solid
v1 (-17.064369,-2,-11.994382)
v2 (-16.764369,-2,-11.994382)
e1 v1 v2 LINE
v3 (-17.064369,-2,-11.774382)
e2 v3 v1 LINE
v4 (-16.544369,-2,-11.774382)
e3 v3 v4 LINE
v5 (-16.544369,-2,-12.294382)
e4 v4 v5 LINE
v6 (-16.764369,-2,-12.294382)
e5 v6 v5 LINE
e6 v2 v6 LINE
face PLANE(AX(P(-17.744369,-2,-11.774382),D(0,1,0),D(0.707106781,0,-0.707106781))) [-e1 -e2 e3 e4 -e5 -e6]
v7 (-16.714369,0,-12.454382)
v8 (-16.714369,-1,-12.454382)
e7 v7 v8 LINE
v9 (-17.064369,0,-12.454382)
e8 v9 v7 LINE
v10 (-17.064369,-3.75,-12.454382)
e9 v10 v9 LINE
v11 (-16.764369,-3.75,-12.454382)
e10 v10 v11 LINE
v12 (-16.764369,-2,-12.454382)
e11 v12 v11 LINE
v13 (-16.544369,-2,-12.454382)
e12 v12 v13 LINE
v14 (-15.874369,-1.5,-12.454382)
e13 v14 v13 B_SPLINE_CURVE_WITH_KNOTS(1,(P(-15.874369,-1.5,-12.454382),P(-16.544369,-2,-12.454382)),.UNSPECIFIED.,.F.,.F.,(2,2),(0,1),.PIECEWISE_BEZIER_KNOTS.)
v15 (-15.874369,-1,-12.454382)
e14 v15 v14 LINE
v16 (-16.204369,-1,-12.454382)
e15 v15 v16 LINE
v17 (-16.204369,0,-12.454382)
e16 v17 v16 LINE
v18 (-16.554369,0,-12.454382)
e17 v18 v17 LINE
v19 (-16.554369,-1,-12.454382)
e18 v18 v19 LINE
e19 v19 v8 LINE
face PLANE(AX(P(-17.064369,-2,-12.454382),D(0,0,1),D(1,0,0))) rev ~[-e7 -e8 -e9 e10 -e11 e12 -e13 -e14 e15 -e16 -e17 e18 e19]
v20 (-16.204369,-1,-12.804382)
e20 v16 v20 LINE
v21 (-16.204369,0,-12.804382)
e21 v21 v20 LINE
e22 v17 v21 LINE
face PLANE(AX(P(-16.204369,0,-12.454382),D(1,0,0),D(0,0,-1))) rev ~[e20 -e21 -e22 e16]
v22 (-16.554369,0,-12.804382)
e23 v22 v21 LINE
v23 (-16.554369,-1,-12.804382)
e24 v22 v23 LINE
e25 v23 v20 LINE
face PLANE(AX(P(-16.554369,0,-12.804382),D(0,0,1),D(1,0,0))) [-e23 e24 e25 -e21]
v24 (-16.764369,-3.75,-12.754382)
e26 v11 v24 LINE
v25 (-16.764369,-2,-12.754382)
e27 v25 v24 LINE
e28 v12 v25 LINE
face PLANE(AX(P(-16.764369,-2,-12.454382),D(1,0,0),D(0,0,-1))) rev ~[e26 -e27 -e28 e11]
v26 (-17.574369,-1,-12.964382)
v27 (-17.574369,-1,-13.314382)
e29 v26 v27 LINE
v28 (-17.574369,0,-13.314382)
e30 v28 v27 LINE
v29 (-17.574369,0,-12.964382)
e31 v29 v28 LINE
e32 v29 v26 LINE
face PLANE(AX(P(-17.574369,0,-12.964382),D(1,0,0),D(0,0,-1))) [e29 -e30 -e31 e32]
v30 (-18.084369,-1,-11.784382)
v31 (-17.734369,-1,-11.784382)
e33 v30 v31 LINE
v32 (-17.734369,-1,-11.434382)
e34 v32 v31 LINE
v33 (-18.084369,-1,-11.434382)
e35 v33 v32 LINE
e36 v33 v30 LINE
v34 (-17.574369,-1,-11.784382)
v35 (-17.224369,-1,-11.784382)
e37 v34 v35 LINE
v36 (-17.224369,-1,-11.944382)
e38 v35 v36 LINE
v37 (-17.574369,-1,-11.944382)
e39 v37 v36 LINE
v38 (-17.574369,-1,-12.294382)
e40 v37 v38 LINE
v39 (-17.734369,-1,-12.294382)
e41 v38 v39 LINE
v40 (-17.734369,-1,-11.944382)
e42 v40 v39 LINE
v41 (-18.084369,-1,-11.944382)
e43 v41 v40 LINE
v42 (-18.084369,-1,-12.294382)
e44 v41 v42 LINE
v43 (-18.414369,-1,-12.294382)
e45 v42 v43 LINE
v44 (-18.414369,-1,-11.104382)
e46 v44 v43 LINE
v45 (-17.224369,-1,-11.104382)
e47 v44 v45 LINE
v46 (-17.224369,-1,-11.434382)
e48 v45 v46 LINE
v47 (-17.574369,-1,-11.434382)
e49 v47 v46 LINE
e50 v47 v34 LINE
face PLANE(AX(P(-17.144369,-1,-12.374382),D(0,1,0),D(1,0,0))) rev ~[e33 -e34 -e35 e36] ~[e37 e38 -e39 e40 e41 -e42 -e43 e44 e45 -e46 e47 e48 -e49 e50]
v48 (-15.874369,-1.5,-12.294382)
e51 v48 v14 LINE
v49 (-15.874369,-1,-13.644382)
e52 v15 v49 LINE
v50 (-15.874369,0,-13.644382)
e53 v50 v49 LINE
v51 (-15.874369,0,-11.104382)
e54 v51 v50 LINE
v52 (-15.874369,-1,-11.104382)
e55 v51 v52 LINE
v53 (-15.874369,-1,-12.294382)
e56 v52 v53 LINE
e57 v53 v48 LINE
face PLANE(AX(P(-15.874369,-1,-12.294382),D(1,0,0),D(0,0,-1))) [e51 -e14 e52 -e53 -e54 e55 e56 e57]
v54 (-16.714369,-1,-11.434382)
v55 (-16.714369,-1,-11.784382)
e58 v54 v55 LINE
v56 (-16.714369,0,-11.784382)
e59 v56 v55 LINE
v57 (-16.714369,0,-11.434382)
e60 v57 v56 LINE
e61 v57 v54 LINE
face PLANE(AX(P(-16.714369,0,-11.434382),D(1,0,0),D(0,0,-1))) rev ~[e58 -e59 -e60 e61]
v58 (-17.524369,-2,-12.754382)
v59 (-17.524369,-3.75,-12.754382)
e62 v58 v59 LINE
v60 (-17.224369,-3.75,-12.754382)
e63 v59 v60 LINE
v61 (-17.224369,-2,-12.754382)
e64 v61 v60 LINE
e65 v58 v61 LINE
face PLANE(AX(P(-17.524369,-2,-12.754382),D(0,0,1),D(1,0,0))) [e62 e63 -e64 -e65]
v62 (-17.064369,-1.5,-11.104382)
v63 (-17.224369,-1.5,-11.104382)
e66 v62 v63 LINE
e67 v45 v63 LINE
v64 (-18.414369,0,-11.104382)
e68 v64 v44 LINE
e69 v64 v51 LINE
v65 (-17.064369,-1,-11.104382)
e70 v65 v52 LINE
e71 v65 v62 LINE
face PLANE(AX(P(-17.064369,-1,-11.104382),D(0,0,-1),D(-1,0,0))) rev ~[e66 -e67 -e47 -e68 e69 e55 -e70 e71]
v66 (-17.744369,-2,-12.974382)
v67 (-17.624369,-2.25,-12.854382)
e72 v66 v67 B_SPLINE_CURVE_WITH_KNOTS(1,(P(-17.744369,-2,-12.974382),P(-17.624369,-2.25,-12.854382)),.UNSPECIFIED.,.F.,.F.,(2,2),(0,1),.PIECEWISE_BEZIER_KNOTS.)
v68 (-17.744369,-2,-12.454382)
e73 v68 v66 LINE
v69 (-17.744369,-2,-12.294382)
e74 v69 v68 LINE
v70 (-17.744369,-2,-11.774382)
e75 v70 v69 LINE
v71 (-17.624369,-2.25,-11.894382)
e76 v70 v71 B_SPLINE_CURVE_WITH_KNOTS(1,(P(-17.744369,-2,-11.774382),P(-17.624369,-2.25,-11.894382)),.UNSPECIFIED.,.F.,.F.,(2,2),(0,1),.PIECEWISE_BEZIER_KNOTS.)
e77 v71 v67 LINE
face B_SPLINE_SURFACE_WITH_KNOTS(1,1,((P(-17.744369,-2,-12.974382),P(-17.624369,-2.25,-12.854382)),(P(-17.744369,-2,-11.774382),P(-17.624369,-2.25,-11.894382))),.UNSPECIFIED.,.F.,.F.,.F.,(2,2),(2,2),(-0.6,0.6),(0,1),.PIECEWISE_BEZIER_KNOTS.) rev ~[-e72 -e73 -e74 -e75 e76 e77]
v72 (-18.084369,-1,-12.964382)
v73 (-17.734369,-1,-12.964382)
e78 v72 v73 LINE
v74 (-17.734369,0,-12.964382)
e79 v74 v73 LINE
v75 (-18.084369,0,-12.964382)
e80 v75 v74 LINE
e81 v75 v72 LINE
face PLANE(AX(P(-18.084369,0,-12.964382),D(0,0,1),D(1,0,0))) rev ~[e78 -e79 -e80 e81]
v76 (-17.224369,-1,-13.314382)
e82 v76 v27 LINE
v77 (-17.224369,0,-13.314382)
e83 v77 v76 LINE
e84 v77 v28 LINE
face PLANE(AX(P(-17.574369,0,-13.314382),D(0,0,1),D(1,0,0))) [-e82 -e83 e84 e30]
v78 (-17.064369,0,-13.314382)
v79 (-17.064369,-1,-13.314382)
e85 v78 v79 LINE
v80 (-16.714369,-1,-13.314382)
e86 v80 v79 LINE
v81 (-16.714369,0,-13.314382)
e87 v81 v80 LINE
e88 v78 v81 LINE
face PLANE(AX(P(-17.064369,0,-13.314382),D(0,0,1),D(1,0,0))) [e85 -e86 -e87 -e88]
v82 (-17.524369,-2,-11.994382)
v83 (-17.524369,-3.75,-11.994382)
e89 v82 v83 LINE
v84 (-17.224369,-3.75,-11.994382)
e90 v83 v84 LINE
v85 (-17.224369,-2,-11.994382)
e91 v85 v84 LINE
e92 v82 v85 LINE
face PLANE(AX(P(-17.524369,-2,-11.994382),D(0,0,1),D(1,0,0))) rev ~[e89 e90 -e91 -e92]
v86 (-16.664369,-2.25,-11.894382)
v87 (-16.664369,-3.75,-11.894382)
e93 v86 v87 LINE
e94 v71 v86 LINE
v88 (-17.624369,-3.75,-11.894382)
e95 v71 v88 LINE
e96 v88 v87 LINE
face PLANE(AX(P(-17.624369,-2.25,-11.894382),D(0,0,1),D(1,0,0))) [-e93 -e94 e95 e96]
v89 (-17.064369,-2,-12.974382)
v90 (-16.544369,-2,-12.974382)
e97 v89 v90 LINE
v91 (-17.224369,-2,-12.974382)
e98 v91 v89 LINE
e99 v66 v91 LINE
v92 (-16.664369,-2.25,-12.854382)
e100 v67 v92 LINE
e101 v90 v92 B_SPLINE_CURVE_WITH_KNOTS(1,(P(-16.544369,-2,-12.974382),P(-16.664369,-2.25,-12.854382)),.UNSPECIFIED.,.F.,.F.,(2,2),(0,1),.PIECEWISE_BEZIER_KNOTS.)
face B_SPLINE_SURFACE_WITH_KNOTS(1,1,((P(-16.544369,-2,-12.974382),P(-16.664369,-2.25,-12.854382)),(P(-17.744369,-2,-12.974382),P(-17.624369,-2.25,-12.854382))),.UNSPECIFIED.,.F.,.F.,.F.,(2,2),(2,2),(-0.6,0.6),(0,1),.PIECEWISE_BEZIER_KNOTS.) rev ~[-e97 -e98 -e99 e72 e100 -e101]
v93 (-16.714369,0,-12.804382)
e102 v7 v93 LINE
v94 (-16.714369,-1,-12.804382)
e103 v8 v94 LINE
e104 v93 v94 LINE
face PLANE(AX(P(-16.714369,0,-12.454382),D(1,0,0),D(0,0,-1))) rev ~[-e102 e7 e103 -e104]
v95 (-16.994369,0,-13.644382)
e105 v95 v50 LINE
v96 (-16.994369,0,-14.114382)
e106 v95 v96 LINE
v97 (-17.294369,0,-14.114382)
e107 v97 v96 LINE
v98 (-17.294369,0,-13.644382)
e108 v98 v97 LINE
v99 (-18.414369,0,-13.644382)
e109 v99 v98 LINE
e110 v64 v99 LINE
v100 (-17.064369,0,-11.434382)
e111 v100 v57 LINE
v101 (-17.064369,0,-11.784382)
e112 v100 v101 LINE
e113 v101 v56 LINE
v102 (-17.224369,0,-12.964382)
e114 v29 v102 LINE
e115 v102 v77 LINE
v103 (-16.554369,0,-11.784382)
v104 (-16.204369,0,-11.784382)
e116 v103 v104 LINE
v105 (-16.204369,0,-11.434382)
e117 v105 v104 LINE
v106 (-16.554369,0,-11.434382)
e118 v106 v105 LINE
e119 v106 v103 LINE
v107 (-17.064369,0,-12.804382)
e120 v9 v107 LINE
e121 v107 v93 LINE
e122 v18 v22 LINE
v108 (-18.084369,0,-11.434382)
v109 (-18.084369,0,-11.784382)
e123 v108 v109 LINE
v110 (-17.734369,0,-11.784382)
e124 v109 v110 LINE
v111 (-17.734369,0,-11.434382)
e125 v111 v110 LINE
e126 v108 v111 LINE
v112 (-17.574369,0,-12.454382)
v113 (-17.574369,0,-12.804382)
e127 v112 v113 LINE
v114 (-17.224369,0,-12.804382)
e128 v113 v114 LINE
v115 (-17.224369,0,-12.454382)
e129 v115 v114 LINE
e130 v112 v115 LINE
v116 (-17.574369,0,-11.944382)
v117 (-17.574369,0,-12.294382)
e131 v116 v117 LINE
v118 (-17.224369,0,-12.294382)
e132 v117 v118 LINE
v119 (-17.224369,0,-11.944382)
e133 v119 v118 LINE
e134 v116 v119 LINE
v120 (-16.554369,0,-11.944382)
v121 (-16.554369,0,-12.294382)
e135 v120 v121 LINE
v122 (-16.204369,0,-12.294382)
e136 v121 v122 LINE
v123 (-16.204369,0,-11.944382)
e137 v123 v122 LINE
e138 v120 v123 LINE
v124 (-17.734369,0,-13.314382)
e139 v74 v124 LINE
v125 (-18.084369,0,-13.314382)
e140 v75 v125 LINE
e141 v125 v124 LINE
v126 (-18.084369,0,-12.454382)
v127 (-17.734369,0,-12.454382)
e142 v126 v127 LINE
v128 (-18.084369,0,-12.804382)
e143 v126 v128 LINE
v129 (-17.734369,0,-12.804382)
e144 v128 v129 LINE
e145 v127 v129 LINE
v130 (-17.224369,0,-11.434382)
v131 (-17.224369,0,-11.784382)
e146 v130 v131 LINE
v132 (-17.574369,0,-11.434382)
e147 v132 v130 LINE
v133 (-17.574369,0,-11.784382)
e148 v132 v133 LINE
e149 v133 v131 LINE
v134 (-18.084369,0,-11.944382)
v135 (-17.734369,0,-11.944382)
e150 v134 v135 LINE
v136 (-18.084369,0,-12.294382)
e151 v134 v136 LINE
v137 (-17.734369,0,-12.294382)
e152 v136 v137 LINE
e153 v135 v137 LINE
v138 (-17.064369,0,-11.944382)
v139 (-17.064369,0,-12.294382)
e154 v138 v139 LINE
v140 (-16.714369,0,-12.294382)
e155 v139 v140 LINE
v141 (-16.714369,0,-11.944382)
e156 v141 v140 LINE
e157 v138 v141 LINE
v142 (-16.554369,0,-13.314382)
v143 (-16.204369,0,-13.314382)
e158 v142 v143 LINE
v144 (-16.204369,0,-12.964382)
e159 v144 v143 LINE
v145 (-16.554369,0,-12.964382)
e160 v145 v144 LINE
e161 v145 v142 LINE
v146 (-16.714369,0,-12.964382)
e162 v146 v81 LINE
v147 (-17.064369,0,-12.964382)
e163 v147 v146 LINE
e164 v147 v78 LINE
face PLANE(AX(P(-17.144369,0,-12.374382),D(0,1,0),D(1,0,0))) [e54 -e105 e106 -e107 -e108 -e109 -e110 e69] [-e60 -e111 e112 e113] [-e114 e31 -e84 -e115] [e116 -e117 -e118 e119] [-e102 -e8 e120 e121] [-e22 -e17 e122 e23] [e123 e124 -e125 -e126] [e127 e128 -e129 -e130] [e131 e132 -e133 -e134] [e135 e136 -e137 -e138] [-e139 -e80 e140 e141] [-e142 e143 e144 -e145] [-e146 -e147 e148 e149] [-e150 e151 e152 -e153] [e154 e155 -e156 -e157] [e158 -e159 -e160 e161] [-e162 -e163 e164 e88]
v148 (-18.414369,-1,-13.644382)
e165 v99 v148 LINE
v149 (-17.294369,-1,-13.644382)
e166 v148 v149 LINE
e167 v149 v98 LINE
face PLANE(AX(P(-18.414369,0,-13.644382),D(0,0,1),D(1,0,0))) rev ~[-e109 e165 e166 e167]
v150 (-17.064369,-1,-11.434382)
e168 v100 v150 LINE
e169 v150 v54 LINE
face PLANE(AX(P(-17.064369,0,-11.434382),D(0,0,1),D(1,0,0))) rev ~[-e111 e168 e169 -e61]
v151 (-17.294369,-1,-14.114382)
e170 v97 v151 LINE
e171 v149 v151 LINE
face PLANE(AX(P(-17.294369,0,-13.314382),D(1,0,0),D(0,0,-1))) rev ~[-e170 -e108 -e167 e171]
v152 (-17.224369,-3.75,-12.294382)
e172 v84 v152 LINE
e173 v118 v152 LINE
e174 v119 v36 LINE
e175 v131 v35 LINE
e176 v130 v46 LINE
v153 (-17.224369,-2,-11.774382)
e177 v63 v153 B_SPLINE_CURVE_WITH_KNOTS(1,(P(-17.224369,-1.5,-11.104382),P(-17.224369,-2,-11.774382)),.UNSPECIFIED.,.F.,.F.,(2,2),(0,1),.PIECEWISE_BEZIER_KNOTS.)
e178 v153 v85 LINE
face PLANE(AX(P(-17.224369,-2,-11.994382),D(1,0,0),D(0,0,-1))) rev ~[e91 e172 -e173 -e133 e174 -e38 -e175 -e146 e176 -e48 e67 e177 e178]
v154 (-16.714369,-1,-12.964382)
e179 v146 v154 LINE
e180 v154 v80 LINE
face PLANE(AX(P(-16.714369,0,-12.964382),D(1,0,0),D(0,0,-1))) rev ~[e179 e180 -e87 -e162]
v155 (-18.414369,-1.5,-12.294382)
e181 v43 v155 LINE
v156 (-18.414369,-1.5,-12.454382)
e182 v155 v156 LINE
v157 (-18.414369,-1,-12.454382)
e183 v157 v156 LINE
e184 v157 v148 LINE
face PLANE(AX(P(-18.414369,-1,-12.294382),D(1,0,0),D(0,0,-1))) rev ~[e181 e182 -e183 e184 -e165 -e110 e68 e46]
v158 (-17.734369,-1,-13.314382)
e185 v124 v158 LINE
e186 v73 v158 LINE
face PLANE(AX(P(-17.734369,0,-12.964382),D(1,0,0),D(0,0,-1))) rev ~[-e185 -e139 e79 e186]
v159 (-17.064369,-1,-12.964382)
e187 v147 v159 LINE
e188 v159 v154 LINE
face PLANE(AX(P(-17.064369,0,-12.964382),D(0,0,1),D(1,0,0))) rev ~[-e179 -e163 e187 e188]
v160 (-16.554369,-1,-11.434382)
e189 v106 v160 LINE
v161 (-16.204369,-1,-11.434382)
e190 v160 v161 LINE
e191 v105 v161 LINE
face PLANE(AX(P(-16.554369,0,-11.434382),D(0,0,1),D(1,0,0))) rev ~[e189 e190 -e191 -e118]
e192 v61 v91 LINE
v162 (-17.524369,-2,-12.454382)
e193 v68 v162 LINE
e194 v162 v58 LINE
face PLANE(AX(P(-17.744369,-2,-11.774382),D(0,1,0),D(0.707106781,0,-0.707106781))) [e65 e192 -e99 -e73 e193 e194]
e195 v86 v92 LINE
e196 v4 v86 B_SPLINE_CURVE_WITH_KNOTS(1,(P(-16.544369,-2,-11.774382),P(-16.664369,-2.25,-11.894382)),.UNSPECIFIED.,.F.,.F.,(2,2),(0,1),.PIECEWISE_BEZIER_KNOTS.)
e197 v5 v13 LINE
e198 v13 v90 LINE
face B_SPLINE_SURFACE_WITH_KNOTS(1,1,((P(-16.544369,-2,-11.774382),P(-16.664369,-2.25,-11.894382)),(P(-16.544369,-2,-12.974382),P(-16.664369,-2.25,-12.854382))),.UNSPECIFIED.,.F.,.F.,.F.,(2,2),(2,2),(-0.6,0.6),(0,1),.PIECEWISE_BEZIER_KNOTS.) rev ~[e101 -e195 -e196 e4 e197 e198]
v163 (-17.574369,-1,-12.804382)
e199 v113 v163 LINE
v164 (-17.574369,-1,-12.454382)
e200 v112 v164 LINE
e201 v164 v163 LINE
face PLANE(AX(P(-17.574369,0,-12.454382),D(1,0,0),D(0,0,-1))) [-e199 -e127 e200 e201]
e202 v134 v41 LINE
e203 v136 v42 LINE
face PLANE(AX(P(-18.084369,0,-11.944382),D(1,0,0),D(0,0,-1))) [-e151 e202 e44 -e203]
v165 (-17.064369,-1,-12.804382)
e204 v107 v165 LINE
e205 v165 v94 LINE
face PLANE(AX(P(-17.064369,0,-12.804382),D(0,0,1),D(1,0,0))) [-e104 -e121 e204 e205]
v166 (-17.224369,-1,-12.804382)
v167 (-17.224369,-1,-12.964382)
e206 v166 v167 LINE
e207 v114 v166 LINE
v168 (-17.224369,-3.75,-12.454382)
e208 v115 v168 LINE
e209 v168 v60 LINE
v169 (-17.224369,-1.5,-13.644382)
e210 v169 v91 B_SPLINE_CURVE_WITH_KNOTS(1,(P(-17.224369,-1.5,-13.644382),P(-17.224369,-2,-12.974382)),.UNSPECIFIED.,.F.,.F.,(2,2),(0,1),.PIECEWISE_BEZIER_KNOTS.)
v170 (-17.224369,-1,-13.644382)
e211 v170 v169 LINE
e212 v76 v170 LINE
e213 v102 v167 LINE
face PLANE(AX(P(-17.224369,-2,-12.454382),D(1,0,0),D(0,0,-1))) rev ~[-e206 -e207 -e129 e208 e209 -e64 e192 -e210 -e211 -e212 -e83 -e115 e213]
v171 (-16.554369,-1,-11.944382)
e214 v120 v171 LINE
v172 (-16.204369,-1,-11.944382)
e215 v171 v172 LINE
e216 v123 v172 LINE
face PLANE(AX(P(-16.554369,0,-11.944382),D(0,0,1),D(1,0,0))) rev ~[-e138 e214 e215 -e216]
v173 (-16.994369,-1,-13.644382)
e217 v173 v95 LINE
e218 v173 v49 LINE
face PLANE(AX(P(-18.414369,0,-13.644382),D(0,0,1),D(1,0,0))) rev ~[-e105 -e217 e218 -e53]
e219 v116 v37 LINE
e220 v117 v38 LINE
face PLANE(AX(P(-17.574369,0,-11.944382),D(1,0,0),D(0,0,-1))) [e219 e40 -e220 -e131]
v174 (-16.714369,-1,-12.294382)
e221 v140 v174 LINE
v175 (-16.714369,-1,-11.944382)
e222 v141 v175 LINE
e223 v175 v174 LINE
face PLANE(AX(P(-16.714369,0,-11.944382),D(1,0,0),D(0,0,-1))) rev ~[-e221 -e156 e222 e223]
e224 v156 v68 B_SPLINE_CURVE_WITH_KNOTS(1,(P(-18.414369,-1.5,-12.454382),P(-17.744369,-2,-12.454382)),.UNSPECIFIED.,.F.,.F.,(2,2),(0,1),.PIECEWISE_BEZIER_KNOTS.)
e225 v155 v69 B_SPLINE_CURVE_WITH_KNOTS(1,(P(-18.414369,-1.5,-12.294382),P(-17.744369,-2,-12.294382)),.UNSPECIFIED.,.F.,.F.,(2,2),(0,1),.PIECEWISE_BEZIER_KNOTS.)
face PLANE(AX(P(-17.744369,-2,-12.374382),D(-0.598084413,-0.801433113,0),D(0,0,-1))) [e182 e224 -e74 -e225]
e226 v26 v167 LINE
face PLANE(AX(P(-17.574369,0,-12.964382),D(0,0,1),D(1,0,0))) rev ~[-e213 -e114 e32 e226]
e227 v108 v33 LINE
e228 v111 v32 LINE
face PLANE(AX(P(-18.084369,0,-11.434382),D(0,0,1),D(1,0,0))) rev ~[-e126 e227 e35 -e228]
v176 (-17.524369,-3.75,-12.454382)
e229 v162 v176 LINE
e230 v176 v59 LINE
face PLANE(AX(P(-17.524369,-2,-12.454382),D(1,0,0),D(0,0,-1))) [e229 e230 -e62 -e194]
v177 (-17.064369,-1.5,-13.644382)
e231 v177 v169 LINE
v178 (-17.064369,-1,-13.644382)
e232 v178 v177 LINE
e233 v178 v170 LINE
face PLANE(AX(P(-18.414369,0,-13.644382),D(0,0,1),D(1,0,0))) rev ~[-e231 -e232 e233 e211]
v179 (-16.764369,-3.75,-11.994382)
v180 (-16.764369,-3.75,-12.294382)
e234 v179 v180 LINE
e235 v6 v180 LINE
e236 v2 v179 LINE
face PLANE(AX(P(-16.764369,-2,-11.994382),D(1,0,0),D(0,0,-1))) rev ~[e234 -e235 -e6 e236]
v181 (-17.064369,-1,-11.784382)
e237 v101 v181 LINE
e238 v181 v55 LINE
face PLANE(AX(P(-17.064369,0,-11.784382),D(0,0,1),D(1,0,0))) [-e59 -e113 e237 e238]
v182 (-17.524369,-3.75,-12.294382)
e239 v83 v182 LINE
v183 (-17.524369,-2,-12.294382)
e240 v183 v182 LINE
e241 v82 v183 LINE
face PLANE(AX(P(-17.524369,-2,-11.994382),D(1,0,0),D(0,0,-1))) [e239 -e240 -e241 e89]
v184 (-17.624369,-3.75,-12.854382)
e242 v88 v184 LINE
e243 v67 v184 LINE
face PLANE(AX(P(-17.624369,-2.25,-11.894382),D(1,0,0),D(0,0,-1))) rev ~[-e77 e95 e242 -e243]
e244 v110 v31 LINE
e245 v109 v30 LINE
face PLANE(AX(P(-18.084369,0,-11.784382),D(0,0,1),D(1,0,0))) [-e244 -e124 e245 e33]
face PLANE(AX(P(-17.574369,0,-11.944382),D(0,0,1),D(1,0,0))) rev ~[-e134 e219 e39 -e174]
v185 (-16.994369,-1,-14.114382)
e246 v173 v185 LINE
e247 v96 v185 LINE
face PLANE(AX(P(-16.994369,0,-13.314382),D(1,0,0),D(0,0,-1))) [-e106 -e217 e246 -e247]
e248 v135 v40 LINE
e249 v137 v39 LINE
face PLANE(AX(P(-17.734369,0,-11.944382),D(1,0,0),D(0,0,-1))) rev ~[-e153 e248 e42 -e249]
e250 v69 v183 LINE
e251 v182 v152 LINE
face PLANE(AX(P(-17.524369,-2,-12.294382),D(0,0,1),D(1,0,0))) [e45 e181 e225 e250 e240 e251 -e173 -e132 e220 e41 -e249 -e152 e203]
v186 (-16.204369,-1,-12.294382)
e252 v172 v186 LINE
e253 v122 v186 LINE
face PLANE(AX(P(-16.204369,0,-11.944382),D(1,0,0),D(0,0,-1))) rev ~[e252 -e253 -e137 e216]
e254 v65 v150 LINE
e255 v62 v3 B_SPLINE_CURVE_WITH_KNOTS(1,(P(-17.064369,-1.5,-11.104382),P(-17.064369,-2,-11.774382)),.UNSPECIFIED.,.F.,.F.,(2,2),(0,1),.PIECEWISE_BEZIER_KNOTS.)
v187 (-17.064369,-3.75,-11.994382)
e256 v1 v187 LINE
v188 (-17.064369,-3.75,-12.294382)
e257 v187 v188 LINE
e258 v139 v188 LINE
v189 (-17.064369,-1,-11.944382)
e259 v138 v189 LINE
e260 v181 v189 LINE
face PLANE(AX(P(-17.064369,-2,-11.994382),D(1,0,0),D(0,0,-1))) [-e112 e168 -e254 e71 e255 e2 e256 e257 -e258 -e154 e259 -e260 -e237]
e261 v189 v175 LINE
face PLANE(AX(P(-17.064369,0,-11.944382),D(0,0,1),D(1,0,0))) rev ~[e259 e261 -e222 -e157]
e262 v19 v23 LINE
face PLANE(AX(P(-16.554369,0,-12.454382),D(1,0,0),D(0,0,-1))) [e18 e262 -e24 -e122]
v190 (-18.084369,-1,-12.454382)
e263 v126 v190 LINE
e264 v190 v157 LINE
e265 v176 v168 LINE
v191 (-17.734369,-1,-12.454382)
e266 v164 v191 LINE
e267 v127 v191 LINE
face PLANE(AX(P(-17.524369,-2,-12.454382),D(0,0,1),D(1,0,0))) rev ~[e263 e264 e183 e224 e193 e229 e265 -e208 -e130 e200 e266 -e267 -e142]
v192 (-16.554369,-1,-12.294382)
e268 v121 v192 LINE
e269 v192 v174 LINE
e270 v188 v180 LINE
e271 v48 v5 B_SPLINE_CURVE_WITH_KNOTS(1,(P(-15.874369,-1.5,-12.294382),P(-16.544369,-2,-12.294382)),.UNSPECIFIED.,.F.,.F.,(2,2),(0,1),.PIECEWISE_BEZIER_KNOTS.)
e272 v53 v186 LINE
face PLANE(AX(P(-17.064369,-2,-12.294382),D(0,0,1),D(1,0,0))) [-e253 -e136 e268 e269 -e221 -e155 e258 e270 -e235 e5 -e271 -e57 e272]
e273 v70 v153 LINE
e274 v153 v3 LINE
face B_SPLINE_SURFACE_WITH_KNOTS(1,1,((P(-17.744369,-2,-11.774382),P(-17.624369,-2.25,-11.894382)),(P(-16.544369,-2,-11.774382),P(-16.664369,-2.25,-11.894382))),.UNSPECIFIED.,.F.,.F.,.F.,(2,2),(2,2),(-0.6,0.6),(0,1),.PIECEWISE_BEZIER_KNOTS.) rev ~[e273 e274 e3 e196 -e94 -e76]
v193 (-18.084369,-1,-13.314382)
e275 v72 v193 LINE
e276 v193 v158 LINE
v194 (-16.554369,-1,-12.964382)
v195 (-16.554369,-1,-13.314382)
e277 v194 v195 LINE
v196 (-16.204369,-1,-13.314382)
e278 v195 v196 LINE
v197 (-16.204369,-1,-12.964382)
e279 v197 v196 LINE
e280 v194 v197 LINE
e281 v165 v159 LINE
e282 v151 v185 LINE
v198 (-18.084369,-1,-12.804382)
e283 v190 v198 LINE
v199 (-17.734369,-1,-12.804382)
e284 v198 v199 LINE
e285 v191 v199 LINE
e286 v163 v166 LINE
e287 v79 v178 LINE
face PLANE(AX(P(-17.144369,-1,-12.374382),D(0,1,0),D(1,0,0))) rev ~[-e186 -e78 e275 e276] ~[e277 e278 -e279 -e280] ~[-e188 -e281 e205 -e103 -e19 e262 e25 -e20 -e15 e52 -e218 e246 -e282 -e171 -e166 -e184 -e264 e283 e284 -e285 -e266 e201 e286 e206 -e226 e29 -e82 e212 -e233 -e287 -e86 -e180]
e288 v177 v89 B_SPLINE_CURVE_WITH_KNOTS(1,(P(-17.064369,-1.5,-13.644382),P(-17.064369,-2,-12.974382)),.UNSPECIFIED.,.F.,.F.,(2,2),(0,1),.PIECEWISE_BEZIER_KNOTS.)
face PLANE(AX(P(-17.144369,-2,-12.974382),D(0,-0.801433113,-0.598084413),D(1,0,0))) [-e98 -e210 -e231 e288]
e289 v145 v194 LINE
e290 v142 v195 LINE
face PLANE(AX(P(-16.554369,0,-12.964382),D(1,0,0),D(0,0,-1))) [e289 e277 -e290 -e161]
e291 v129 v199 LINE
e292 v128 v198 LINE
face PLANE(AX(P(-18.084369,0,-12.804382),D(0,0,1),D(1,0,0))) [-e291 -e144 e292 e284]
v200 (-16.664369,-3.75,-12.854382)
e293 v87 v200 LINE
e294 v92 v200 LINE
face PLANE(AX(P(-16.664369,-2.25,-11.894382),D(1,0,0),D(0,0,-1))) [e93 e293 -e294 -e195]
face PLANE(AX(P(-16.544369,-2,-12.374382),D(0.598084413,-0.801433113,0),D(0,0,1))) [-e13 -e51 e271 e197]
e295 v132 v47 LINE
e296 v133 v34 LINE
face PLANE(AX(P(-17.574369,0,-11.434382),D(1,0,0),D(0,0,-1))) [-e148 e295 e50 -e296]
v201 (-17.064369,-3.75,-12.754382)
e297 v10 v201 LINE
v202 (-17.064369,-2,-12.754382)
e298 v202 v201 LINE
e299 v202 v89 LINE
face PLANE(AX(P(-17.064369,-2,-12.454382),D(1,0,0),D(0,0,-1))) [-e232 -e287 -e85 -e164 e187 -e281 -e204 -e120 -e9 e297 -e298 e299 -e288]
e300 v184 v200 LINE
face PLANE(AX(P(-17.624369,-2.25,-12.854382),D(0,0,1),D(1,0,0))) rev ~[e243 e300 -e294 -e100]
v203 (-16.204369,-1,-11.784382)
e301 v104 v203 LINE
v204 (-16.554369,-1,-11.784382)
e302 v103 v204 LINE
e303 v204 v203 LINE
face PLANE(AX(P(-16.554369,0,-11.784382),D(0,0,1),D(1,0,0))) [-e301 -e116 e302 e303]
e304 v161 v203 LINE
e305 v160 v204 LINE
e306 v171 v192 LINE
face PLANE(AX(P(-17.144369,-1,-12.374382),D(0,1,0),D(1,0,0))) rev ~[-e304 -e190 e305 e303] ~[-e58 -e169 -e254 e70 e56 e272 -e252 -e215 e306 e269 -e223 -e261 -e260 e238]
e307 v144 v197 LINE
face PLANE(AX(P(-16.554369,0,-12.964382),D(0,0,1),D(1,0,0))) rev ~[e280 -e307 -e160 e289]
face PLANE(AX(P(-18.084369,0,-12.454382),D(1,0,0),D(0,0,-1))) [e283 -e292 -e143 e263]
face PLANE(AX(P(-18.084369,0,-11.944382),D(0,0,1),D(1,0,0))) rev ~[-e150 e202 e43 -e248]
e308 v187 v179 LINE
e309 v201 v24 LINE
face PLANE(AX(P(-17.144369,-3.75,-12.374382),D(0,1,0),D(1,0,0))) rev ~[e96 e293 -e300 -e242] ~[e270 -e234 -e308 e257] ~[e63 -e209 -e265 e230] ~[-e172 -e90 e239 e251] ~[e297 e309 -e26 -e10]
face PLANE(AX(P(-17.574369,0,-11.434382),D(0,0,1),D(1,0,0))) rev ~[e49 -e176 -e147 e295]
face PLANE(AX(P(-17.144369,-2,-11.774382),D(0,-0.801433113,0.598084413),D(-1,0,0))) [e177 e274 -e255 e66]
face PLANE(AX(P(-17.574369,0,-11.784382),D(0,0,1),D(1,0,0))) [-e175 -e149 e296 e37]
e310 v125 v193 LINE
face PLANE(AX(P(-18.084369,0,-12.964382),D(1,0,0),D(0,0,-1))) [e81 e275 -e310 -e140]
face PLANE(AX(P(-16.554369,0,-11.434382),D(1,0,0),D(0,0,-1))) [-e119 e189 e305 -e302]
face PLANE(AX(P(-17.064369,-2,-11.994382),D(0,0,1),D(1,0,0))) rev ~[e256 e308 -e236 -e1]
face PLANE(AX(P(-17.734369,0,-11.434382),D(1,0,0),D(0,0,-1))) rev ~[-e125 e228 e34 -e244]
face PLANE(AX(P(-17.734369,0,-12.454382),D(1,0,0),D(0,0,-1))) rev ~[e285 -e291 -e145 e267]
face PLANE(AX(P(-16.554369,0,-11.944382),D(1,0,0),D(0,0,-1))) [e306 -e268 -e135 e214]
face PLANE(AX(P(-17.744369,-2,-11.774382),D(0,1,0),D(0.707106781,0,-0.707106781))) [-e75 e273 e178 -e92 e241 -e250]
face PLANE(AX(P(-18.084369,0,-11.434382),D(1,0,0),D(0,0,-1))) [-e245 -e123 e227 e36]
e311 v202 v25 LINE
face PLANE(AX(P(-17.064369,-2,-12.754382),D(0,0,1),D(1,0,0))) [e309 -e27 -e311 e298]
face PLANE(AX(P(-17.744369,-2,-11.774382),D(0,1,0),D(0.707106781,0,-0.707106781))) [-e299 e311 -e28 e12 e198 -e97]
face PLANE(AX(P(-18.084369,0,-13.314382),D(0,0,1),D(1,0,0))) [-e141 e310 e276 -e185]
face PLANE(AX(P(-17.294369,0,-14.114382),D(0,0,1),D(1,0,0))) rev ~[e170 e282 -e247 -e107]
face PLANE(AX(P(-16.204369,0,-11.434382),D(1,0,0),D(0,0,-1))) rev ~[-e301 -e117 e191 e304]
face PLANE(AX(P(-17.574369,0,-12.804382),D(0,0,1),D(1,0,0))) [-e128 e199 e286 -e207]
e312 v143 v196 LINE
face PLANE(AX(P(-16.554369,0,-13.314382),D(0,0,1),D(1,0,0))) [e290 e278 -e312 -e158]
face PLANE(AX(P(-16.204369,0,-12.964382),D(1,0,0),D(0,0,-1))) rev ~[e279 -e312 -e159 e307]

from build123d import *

# Parameters (mm, degrees)
TOP_PANEL_W               = 2.54
TOP_PANEL_H               = 2.54
BOSS_EXTRUDE1_DEPTH       = 1
WELL_HOLES_W              = 0.35
WELL_HOLES_H              = 0.35
WELLS_DEPTH               = 1
SKETCH5_W                 = 2.54
SKETCH5_H                 = 0.16
BOSS_EXTRUDE5_DEPTH       = 0.5
SKETCH4_W                 = 1.2
SKETCH4_H                 = 0.16
SUPPORT_WALL_SKETCH_W     = 0.16
SUPPORT_WALL_SKETCH_H     = 2.54
BOSS_EXTRUDE7_DEPTH       = 0.5
SKETCH7_W                 = 0.16
SKETCH7_H                 = 0.52
SKETCH7_3_W               = 0.16
SKETCH7_3_H               = 0.52
SKETCH8_W                 = 1.2
SKETCH8_H                 = 1.2
SKETCH9_W                 = 0.96
SKETCH9_H                 = 0.96
SKETCH9_2_W               = 0.96
SKETCH9_2_H               = 0.96
TETRODE_GUIDE_DEPTH       = 1.5
TETRODE_ENTRY_HOLDES_W    = 0.3
TETRODE_ENTRY_HOLDES_H    = 0.3
TETRODE_GUIDE_HOLES_DEPTH = 1.75
SKETCH10_W                = 0.3
SKETCH10_H                = 0.8
TAB_DEPTH                 = 1


with BuildPart() as part:
    # top_panel → Boss-Extrude1 (new body)
    with BuildSketch(Plane(origin=(0, 0, 0), x_dir=(1, 0, 0), z_dir=(0, 1, 0))):
        with Locations((-17.144369017, 12.374381862)):
            Rectangle(TOP_PANEL_W, TOP_PANEL_H)
    extrude(amount=-BOSS_EXTRUDE1_DEPTH)

    # well_holes → wells (cut)
    with BuildSketch(Plane(origin=(0, 0, 0), x_dir=(1, 0, 0), z_dir=(0, 1, 0))):
        with Locations((-17.399369017, 13.139381862)):
            Rectangle(WELL_HOLES_W, WELL_HOLES_H)
        with Locations((-17.909369017, 13.139381862)):
            Rectangle(WELL_HOLES_W, WELL_HOLES_H)
        with Locations((-16.889369017, 13.139381862)):
            Rectangle(WELL_HOLES_W, WELL_HOLES_H)
        with Locations((-16.379369017, 13.139381862)):
            Rectangle(WELL_HOLES_W, WELL_HOLES_H)
        with Locations((-17.399369017, 12.629381862)):
            Rectangle(WELL_HOLES_W, WELL_HOLES_H)
        with Locations((-16.889369017, 12.629381862)):
            Rectangle(WELL_HOLES_W, WELL_HOLES_H)
        with Locations((-16.379369017, 12.629381862)):
            Rectangle(WELL_HOLES_W, WELL_HOLES_H)
        with Locations((-17.399369017, 12.119381862)):
            Rectangle(WELL_HOLES_W, WELL_HOLES_H)
        with Locations((-16.889369017, 12.119381862)):
            Rectangle(WELL_HOLES_W, WELL_HOLES_H)
        with Locations((-16.379369017, 12.119381862)):
            Rectangle(WELL_HOLES_W, WELL_HOLES_H)
        with Locations((-17.399369017, 11.609381862)):
            Rectangle(WELL_HOLES_W, WELL_HOLES_H)
        with Locations((-16.889369017, 11.609381862)):
            Rectangle(WELL_HOLES_W, WELL_HOLES_H)
        with Locations((-16.379369017, 11.609381862)):
            Rectangle(WELL_HOLES_W, WELL_HOLES_H)
        with Locations((-17.909369017, 12.629381862)):
            Rectangle(WELL_HOLES_W, WELL_HOLES_H)
        with Locations((-17.909369017, 12.119381862)):
            Rectangle(WELL_HOLES_W, WELL_HOLES_H)
        with Locations((-17.909369017, 11.609381862)):
            Rectangle(WELL_HOLES_W, WELL_HOLES_H)
    extrude(amount=-WELLS_DEPTH, mode=Mode.SUBTRACT)

    # Sketch5 → Boss-Extrude5 (add)
    with BuildSketch(Plane(origin=(0, -1, 0), x_dir=(-1, 0, 0), z_dir=(0, -1, 0))):
        with Locations((17.144369017, 12.374381862)):
            Rectangle(SKETCH5_W, SKETCH5_H)
    extrude(amount=BOSS_EXTRUDE5_DEPTH)

    # Sketch4 → section 1 of loft3
    with BuildSketch(Plane(origin=(0, -2, 0), x_dir=(1, 0, 0), z_dir=(0, 1, 0)), mode=Mode.PRIVATE) as loft3_s1:
        with Locations((-17.144369017, 12.374381862)):
            Rectangle(SKETCH4_W, SKETCH4_H)
    # loft from a face of the part (loft3)
    loft([part.faces().sort_by_distance((-17.144369017, -1.5, -12.374381862))[0], loft3_s1.sketch])

    # support_wall_sketch → Boss-Extrude7 (add)
    with BuildSketch(Plane(origin=(0, -1, 0), x_dir=(-1, 0, 0), z_dir=(0, -1, 0))):
        with Locations((17.144369017, 12.374381862)):
            Rectangle(SUPPORT_WALL_SKETCH_W, SUPPORT_WALL_SKETCH_H)
    extrude(amount=BOSS_EXTRUDE7_DEPTH)

    # Sketch7 → section 1 of loft6
    with BuildSketch(Plane(origin=(0, -2, 0), x_dir=(1, 0, 0), z_dir=(0, 1, 0)), mode=Mode.PRIVATE) as loft6_s1:
        with Locations((-17.144369017, 12.034381862)):
            Rectangle(SKETCH7_W, SKETCH7_H)
    # loft from a face of the part (loft6)
    loft([part.faces().sort_by_distance((-17.144369017, -1.5, -11.699381862))[0], loft6_s1.sketch])

    # Sketch7<3> → section 1 of loft7
    with BuildSketch(Plane(origin=(0, -2, 0), x_dir=(1, 0, 0), z_dir=(0, 1, 0)), mode=Mode.PRIVATE) as loft7_s1:
        with Locations((-17.144369017, 12.714381862)):
            Rectangle(SKETCH7_3_W, SKETCH7_3_H)
    # loft from a face of the part (loft7)
    loft([part.faces().sort_by_distance((-17.144369017, -1.5, -13.049381862))[0], loft7_s1.sketch])

    # Sketch8 → mezzanine section 0
    with BuildSketch(Plane(origin=(0, -2, 0), x_dir=(1, 0, 0), z_dir=(0, 1, 0))):
        with Locations((-17.144369017, 12.374381862)):
            Rectangle(SKETCH8_W, SKETCH8_H)
    # Sketch9 → mezzanine section 1
    with BuildSketch(Plane(origin=(0, -2.25, 0), x_dir=(1, 0, 0), z_dir=(0, 1, 0))):
        with Locations((-17.144369017, 12.374381862)):
            Rectangle(SKETCH9_W, SKETCH9_H)
    loft()

    # Sketch9<2> → tetrode_guide (add)
    with BuildSketch(Plane(origin=(0, -2.25, 0), x_dir=(1, 0, 0), z_dir=(0, 1, 0))):
        with Locations((-17.144369017, 12.374381862)):
            Rectangle(SKETCH9_2_W, SKETCH9_2_H)
    extrude(amount=-TETRODE_GUIDE_DEPTH)

    # tetrode_entry_holdes → tetrode_guide_holes (cut)
    with BuildSketch(Plane(origin=(0, -2, 0), x_dir=(1, 0, 0), z_dir=(0, 1, 0))):
        with Locations((-17.374369017, 12.144381862)):
            Rectangle(TETRODE_ENTRY_HOLDES_W, TETRODE_ENTRY_HOLDES_H)
        with Locations((-16.914369017, 12.144381862)):
            Rectangle(TETRODE_ENTRY_HOLDES_W, TETRODE_ENTRY_HOLDES_H)
        with Locations((-16.914369017, 12.604381862)):
            Rectangle(TETRODE_ENTRY_HOLDES_W, TETRODE_ENTRY_HOLDES_H)
        with Locations((-17.374369017, 12.604381862)):
            Rectangle(TETRODE_ENTRY_HOLDES_W, TETRODE_ENTRY_HOLDES_H)
    extrude(amount=-TETRODE_GUIDE_HOLES_DEPTH, mode=Mode.SUBTRACT)

    # Sketch10 → tab (add)
    with BuildSketch(Plane(origin=(0, 0, 0), x_dir=(1, 0, 0), z_dir=(0, 1, 0))):
        with Locations((-17.144369017, 13.714381862)):
            Rectangle(SKETCH10_W, SKETCH10_H)
    extrude(amount=-TAB_DEPTH)


solid = part.part
